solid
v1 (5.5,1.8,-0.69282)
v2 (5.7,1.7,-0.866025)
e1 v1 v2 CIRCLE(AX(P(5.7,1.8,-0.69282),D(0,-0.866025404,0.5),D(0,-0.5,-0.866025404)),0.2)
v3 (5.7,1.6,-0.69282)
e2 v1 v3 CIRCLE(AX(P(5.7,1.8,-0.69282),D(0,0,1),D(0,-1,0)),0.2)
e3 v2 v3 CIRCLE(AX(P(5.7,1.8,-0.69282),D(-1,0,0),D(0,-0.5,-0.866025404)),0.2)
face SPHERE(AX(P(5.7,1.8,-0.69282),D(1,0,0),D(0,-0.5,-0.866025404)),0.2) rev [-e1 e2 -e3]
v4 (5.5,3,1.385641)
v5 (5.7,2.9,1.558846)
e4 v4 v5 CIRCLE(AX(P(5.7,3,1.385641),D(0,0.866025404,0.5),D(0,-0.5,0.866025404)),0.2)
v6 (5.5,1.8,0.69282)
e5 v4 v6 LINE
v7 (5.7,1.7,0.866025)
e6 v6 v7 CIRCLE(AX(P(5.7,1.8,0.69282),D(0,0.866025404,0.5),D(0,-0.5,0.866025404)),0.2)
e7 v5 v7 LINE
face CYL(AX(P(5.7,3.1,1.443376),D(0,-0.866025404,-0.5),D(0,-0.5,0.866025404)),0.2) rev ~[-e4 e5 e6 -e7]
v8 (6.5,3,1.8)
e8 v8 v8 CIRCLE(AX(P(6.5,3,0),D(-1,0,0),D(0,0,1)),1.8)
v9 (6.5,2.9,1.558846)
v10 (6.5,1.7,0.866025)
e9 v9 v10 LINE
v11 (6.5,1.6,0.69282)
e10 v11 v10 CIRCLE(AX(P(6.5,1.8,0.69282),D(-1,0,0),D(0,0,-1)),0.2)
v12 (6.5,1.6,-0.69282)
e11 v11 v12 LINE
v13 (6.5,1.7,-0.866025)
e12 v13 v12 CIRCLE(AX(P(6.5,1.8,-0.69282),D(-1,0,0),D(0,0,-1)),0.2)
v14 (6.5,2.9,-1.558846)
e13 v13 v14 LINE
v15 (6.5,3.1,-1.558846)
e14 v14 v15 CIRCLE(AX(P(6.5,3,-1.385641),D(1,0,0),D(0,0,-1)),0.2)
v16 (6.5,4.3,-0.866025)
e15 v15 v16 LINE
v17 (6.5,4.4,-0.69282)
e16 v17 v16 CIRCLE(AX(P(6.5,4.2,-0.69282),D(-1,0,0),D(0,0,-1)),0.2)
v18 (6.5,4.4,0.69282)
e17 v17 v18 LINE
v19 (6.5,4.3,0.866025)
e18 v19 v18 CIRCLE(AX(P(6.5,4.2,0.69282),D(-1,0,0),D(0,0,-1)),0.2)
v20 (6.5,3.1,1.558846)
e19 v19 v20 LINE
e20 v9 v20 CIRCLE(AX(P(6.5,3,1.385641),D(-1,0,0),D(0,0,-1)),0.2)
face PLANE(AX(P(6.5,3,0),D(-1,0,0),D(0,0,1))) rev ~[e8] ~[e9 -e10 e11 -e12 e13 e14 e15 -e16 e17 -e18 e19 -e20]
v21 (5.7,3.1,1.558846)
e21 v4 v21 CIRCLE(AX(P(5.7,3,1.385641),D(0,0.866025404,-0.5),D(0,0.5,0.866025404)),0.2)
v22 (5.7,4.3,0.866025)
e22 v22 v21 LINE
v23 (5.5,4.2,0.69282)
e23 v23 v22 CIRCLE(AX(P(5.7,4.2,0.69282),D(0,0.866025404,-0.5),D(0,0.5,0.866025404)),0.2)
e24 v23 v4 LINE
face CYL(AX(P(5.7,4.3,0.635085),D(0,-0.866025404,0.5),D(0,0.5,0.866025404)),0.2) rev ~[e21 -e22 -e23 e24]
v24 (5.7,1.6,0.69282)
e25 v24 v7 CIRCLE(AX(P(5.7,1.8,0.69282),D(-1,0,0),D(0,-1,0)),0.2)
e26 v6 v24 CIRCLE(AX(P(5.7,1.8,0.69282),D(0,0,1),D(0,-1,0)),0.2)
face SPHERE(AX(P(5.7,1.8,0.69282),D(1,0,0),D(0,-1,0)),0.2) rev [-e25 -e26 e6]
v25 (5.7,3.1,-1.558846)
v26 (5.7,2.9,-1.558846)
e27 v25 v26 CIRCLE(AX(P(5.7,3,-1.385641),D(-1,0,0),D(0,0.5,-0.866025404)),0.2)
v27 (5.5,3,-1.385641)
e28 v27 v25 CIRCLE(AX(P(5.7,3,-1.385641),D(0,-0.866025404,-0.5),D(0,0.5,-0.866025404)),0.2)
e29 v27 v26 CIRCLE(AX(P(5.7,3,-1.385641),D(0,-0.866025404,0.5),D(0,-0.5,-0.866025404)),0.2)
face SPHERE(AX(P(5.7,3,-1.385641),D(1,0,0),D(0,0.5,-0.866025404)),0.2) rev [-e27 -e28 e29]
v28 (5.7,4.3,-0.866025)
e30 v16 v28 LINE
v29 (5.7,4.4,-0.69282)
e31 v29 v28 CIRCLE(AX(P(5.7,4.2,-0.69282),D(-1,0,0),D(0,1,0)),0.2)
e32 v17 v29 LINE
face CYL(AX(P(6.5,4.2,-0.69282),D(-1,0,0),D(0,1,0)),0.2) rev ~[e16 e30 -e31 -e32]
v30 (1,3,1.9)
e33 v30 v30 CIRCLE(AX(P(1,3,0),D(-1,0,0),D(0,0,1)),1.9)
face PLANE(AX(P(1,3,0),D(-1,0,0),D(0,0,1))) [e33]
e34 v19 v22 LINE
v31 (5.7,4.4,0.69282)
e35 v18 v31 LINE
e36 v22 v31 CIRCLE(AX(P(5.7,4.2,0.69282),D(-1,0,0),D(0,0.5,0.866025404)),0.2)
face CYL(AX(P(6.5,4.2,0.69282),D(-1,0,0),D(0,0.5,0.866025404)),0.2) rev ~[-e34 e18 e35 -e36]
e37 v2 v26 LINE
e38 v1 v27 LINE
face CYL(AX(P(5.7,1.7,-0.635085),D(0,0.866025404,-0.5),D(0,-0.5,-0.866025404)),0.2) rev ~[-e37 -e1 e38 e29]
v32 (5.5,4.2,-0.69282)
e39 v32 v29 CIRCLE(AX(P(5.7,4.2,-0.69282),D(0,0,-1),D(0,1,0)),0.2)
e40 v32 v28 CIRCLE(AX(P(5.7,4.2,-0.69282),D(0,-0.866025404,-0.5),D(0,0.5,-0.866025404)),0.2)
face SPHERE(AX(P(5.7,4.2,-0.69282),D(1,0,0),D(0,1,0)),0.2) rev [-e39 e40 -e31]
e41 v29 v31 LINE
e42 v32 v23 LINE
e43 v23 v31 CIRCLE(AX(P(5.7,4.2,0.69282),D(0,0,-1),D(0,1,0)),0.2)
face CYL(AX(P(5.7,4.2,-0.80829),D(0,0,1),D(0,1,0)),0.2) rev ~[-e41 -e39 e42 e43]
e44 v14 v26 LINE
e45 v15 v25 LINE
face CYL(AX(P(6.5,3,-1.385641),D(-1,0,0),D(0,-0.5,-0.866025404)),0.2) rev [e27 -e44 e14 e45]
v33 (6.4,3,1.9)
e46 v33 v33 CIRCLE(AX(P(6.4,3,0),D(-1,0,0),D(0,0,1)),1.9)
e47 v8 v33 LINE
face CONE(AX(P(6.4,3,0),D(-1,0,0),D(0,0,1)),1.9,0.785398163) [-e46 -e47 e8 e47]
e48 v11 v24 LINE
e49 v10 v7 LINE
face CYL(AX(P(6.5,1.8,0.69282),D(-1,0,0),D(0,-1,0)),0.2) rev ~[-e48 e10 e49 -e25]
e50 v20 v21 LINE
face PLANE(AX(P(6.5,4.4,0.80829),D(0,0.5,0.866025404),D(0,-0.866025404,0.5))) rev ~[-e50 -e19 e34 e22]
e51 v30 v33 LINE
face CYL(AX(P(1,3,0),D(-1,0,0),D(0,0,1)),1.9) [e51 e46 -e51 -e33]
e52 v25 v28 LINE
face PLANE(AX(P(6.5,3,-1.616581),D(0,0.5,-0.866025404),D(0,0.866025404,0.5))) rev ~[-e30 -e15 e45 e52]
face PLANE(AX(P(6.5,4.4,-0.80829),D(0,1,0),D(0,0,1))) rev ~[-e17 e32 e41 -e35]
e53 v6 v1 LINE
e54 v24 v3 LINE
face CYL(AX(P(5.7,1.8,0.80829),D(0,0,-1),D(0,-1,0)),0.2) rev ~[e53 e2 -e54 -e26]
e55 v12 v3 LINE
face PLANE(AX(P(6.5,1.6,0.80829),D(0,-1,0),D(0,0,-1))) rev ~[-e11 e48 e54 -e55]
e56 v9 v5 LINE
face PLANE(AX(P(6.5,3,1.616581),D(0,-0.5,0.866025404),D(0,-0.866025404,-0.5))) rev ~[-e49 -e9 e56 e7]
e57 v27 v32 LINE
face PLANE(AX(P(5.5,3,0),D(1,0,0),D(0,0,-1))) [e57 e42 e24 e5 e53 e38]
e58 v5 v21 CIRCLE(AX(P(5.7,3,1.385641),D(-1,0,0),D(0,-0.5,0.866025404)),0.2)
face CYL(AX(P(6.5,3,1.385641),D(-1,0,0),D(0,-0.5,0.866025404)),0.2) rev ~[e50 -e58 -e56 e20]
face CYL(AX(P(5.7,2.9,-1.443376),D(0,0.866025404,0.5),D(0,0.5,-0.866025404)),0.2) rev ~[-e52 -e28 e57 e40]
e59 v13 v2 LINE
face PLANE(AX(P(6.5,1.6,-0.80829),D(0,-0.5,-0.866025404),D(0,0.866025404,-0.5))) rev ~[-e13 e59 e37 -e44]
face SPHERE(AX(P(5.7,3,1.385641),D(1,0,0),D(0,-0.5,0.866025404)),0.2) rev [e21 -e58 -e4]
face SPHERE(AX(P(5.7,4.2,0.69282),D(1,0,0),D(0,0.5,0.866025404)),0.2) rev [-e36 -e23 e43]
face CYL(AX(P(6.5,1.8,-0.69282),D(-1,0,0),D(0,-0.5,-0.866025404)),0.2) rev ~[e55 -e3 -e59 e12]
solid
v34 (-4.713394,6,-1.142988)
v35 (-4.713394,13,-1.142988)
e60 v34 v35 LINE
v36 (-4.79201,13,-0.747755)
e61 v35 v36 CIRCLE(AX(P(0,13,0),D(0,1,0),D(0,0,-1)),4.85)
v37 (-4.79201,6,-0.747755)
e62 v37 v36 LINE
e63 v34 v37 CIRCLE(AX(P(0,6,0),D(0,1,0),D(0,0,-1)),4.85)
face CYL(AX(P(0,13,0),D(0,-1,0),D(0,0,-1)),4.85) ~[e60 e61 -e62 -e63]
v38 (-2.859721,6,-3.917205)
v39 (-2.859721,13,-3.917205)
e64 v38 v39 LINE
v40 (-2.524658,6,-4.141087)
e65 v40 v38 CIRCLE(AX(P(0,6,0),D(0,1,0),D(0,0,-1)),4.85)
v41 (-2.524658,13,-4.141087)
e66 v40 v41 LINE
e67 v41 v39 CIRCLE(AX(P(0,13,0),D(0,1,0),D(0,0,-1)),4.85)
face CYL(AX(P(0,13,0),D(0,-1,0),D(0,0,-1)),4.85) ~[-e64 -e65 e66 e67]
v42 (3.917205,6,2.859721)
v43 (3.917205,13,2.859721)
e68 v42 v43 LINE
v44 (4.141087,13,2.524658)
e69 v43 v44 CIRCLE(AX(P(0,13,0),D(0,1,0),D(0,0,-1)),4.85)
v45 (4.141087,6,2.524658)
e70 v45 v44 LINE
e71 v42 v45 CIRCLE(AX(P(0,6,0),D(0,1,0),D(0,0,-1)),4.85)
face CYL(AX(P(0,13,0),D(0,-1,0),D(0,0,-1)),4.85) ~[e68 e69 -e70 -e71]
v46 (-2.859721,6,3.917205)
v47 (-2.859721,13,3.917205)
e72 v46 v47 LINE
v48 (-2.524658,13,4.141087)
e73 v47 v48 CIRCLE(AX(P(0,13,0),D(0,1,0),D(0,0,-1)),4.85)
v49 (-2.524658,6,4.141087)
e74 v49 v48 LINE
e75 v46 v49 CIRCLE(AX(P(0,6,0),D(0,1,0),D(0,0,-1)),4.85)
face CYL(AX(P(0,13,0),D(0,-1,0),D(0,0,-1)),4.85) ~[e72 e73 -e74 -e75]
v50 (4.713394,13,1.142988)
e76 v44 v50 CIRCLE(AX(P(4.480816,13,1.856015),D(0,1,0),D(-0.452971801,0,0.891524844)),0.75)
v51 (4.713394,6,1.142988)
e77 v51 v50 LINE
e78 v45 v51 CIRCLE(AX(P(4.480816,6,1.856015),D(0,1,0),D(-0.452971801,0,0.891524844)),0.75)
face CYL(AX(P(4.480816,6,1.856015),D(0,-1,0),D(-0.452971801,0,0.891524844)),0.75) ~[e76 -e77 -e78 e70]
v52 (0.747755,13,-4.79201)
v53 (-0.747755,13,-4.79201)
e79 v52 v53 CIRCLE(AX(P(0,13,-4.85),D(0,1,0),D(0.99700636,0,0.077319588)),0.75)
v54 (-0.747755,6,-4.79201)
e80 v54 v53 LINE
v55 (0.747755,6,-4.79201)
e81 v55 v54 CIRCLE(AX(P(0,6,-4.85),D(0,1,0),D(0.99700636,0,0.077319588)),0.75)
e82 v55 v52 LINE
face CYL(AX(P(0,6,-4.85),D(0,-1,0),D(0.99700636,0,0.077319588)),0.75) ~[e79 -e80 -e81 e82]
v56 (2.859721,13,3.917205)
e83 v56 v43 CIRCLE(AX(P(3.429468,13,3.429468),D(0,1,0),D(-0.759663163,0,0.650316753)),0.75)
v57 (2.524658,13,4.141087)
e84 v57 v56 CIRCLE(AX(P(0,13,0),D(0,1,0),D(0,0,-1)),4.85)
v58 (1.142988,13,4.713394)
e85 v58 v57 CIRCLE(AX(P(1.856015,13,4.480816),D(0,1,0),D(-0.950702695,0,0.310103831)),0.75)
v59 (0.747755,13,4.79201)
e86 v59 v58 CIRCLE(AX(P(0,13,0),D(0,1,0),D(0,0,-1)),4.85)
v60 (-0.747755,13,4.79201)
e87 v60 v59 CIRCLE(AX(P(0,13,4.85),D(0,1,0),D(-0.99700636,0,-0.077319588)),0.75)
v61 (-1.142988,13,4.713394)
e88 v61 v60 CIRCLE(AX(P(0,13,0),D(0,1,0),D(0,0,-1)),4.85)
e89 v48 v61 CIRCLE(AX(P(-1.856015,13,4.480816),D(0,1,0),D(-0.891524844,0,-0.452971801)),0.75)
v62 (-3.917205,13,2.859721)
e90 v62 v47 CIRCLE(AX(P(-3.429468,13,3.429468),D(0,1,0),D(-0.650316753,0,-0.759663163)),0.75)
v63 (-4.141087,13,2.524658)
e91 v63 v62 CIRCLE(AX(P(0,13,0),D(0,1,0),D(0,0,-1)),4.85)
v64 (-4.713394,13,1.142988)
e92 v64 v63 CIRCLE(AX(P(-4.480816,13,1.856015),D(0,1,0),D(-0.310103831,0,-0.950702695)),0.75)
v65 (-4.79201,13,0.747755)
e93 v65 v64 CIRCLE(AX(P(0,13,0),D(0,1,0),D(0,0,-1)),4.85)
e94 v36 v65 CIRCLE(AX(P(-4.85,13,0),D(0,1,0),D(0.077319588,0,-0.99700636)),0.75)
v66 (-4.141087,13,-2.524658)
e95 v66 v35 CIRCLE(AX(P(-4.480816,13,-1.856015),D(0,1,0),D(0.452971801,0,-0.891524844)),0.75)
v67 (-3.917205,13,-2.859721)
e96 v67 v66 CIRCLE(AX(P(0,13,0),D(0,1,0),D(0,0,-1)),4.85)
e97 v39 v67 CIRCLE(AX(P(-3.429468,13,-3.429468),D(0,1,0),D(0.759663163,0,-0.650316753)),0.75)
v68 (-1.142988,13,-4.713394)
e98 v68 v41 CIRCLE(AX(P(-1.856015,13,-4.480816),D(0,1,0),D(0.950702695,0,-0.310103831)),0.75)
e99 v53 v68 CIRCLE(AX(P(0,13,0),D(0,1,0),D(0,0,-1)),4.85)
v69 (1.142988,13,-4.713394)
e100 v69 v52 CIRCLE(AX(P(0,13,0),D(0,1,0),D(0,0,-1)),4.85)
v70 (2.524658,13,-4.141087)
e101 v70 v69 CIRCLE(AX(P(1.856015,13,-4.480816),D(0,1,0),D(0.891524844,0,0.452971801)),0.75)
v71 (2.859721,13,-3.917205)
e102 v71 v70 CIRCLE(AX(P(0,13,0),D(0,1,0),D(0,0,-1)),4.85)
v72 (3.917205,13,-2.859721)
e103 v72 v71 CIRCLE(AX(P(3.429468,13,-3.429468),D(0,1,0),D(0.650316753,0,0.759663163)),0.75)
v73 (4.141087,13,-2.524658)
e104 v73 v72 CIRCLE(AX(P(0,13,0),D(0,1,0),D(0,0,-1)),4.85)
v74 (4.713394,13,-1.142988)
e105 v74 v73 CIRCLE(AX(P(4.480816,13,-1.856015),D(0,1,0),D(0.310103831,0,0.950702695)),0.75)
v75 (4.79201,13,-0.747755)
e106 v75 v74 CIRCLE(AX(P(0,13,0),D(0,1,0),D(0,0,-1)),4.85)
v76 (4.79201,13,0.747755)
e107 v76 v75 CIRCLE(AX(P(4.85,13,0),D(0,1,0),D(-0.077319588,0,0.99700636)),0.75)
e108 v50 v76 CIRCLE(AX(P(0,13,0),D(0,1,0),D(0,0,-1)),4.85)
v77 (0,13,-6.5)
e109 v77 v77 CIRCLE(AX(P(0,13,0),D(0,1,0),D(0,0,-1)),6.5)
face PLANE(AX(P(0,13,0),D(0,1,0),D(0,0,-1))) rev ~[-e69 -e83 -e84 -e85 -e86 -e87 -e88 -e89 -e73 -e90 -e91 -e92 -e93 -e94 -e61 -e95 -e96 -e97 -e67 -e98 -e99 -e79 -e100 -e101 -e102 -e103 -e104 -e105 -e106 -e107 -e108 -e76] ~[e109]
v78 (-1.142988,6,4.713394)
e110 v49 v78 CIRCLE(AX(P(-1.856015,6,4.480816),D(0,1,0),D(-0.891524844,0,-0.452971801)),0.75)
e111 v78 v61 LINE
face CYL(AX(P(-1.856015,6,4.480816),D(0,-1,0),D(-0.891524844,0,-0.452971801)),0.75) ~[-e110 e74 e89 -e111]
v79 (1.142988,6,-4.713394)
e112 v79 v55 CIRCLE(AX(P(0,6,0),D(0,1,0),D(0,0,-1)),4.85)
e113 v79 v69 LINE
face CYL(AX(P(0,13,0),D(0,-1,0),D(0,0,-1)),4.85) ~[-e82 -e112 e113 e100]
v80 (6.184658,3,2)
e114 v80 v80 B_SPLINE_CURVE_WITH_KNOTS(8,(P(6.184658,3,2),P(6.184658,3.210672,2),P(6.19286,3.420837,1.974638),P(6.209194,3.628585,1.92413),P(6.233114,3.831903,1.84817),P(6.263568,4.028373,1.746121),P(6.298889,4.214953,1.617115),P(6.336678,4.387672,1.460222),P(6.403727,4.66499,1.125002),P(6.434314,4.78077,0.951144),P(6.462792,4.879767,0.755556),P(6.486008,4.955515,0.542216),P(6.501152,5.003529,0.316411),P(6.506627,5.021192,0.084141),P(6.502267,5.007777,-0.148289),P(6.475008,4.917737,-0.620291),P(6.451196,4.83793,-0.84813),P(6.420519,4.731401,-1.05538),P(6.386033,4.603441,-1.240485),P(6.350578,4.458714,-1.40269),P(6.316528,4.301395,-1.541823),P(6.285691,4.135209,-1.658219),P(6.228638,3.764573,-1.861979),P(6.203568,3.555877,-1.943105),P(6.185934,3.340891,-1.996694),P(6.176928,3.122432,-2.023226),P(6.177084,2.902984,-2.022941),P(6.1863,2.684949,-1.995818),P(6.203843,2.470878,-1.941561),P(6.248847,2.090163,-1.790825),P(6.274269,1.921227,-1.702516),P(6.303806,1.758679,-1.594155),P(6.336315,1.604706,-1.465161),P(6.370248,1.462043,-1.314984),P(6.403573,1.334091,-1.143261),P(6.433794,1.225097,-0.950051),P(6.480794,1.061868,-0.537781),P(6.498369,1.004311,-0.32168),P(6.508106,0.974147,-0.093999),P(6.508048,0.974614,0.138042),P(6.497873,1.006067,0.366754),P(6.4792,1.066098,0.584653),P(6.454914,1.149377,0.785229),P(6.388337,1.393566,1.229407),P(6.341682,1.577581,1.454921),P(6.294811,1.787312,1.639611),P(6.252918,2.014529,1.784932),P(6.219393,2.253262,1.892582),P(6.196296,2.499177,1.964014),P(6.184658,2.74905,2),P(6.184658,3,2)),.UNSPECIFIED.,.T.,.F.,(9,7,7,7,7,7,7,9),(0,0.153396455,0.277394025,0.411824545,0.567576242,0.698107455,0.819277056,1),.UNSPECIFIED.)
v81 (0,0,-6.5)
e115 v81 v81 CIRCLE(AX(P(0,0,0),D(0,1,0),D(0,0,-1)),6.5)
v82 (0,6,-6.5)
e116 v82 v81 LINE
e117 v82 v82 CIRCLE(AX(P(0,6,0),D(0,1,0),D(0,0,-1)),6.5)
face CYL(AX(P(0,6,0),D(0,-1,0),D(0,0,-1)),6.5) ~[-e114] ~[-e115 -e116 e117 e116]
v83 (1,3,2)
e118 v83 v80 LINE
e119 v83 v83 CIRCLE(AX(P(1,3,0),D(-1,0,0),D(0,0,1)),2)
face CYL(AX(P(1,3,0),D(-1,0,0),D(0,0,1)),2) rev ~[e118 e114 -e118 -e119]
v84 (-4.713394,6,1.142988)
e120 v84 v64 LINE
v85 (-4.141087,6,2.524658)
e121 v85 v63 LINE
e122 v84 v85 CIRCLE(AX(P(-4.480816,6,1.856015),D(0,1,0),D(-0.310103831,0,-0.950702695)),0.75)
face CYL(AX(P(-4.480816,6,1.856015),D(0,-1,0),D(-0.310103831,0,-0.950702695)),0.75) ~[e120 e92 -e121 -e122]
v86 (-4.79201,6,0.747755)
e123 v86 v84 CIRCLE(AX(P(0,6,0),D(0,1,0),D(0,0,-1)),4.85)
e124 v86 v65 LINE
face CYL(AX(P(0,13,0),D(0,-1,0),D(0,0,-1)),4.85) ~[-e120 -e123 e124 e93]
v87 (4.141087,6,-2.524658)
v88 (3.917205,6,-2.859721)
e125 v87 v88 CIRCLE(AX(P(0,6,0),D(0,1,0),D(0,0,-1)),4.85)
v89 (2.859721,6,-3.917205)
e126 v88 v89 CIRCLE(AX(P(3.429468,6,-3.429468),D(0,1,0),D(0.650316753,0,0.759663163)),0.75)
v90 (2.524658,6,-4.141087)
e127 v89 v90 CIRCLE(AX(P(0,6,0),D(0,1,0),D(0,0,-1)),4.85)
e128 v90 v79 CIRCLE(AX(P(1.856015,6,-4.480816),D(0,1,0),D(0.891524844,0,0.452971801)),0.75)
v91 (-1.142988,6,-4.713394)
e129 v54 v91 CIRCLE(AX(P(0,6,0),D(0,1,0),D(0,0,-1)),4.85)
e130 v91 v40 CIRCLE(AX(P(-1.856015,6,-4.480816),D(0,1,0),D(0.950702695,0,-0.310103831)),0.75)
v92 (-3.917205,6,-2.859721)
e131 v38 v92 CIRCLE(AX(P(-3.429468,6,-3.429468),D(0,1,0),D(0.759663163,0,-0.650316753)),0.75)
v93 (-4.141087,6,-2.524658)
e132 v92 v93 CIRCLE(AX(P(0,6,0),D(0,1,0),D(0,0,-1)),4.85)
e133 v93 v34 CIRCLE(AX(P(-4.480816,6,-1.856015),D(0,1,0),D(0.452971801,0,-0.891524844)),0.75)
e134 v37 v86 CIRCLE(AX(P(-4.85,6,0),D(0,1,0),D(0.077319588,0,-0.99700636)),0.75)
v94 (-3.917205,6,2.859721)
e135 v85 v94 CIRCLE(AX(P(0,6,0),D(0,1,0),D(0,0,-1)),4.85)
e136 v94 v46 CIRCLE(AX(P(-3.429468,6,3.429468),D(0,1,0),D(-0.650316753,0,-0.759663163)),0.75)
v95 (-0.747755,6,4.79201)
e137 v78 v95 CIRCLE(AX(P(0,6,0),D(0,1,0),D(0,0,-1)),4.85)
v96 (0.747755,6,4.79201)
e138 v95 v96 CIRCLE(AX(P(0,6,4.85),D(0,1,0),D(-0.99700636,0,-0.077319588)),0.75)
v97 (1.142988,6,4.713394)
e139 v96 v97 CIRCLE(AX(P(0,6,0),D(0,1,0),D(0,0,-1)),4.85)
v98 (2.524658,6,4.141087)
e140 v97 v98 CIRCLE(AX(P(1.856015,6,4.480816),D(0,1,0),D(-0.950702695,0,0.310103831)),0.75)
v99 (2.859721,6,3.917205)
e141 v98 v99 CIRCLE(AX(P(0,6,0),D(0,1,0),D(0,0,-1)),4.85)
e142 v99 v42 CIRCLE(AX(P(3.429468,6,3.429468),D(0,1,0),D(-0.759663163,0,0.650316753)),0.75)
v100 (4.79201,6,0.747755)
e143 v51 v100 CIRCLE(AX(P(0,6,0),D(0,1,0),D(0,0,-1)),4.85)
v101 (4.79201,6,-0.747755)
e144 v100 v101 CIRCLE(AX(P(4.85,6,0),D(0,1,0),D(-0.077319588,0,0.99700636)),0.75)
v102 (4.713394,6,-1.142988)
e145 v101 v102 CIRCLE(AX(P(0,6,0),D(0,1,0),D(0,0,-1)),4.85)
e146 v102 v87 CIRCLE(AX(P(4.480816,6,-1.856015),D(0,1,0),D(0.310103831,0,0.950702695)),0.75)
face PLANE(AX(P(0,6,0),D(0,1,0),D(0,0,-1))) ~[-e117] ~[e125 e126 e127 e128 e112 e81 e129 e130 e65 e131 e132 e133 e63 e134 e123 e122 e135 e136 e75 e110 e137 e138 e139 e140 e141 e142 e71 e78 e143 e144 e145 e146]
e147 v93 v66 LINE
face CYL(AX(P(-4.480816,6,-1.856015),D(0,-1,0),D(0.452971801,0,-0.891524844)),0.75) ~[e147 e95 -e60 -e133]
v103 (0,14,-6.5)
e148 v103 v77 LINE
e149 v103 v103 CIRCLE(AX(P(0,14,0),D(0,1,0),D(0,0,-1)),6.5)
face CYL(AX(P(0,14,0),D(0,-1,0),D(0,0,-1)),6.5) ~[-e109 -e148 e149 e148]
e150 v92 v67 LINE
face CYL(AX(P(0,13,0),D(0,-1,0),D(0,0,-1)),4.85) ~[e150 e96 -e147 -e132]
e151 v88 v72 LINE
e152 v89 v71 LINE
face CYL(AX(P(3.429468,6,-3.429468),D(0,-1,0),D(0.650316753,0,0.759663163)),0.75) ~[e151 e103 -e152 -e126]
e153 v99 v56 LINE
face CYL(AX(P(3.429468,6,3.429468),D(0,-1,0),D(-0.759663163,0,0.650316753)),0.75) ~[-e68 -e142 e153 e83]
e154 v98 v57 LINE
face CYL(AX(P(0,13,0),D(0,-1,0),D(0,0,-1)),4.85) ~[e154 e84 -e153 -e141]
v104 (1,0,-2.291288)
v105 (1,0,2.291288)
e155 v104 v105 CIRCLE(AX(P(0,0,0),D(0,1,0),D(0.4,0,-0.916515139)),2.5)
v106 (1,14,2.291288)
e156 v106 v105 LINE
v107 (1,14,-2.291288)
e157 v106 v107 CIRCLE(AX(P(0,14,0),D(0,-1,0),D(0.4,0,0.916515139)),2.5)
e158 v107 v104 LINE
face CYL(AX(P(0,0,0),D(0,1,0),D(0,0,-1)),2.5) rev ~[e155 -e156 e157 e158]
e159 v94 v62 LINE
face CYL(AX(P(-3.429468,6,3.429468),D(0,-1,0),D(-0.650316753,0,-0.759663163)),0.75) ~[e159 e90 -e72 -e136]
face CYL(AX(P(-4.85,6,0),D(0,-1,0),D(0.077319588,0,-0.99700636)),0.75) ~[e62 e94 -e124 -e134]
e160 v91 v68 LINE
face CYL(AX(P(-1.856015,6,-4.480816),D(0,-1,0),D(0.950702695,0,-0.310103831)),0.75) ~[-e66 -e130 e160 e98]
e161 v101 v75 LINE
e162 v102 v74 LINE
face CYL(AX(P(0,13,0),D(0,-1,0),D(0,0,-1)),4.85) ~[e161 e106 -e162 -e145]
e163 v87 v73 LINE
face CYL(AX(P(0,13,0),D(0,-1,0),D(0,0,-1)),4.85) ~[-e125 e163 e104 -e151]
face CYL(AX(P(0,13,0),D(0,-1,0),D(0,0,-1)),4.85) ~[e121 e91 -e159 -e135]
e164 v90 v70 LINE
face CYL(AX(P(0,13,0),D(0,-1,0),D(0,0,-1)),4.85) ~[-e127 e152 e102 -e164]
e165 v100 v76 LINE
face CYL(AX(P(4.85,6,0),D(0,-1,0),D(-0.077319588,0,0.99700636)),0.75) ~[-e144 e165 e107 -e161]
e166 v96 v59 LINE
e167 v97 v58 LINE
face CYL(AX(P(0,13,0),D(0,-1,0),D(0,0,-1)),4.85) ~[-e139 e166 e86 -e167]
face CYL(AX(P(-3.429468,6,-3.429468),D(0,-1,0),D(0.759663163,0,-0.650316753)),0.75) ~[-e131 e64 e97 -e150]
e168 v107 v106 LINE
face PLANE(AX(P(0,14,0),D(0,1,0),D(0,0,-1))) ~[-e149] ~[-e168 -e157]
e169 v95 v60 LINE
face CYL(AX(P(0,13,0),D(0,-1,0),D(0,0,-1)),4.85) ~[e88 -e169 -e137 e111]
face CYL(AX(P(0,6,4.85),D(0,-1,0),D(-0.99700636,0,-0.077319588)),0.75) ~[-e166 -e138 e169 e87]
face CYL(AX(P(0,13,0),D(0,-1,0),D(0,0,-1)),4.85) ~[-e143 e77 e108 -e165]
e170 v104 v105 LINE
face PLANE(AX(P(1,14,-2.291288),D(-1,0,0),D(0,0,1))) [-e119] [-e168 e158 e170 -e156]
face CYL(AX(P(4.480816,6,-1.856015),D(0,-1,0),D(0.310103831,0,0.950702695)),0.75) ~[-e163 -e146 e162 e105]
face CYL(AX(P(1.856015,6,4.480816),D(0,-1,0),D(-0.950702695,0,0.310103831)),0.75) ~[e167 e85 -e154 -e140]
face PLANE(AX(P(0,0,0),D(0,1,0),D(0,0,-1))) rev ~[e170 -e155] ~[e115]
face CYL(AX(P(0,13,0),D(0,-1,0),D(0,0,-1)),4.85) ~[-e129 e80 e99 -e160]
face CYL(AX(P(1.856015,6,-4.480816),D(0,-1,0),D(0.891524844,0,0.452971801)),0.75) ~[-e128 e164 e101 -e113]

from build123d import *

# Parameters (mm, degrees)
BOSS_EXTRUDE1_DEPTH = 7
BOSS_EXTRUDE2_START = 14
BOSS_EXTRUDE2_DEPTH = 14
SKETCH4_R           = 2
CUT_EXTRUDE1_DEPTH  = 18.161002302
SKETCH5_R           = 1.9
BOSS_EXTRUDE3_DEPTH = 5.5
CUT_EXTRUDE2_DEPTH  = 1
FILLET1_R           = 0.2
CHAMFER1_SIZE       = 0.1


with BuildPart() as part:
    # Sketch1 → Revolve1 (revolve)
    with BuildSketch(Plane.XY, mode=Mode.PRIVATE) as revolve1_sk:
        Polygon((2.5, 0), (2.5, 14), (6.5, 14), (6.5, 13), (4.85, 13), (4.85, 6), (6.5, 6), (6.5, 0), align=None)
    revolve(revolve1_sk.sketch.rotate(Axis((0, 0, 0), (0, 1, 0)), 90), axis=Axis((0, 0, 0), (0, 1, 0)))

    # Sketch2 → Boss-Extrude1 (add)
    with BuildSketch(Plane(origin=(0, 6, 0), x_dir=(1, 0, 0), z_dir=(0, 1, 0))):
        with BuildLine():
            ThreePointArc((4.792010309, 0.74775477), (4.85, 0), (4.792010309, -0.74775477))
            ThreePointArc((4.792010309, -0.74775477), (5.6, 0), (4.792010309, 0.74775477))
        make_face()
        with BuildLine():
            ThreePointArc((4.141086882, 2.52465828), (4.480815733, 1.856014647), (4.713393606, 1.142987626))
            ThreePointArc((4.713393606, 1.142987626), (5.173725382, 2.143027221), (4.141086882, 2.52465828))
        make_face()
        with BuildLine():
            ThreePointArc((4.141086882, -2.52465828), (5.173725382, -2.143027221), (4.713393606, -1.142987626))
            ThreePointArc((4.713393606, -1.142987626), (4.480815733, -1.856014647), (4.141086882, -2.52465828))
        make_face()
        with BuildLine():
            ThreePointArc((2.859720517, 3.917205454), (3.429467889, 3.429467889), (3.917205454, 2.859720517))
            ThreePointArc((3.917205454, 2.859720517), (3.959797975, 3.959797975), (2.859720517, 3.917205454))
        make_face()
        with BuildLine():
            ThreePointArc((2.859720517, -3.917205454), (3.959797975, -3.959797975), (3.917205454, -2.859720517))
            ThreePointArc((3.917205454, -2.859720517), (3.429467889, -3.429467889), (2.859720517, -3.917205454))
        make_face()
        with BuildLine():
            ThreePointArc((1.142987626, 4.713393606), (1.856014647, 4.480815733), (2.52465828, 4.141086882))
            ThreePointArc((2.52465828, 4.141086882), (2.143027221, 5.173725382), (1.142987626, 4.713393606))
        make_face()
        with BuildLine():
            ThreePointArc((1.142987626, -4.713393606), (2.143027221, -5.173725382), (2.52465828, -4.141086882))
            ThreePointArc((2.52465828, -4.141086882), (1.856014647, -4.480815733), (1.142987626, -4.713393606))
        make_face()
        with BuildLine():
            ThreePointArc((-0.74775477, 4.792010309), (0, 4.85), (0.74775477, 4.792010309))
            ThreePointArc((0.74775477, 4.792010309), (0, 5.6), (-0.74775477, 4.792010309))
        make_face()
        with BuildLine():
            ThreePointArc((-0.74775477, -4.792010309), (0, -5.6), (0.74775477, -4.792010309))
            ThreePointArc((0.74775477, -4.792010309), (0, -4.85), (-0.74775477, -4.792010309))
        make_face()
        with BuildLine():
            ThreePointArc((-2.52465828, 4.141086882), (-1.856014647, 4.480815733), (-1.142987626, 4.713393606))
            ThreePointArc((-1.142987626, 4.713393606), (-2.143027221, 5.173725382), (-2.52465828, 4.141086882))
        make_face()
        with BuildLine():
            ThreePointArc((-2.52465828, -4.141086882), (-2.143027221, -5.173725382), (-1.142987626, -4.713393606))
            ThreePointArc((-1.142987626, -4.713393606), (-1.856014647, -4.480815733), (-2.52465828, -4.141086882))
        make_face()
        with BuildLine():
            ThreePointArc((-3.917205454, 2.859720517), (-3.429467889, 3.429467889), (-2.859720517, 3.917205454))
            ThreePointArc((-2.859720517, 3.917205454), (-3.959797975, 3.959797975), (-3.917205454, 2.859720517))
        make_face()
        with BuildLine():
            ThreePointArc((-3.917205454, -2.859720517), (-3.959797975, -3.959797975), (-2.859720517, -3.917205454))
            ThreePointArc((-2.859720517, -3.917205454), (-3.429467889, -3.429467889), (-3.917205454, -2.859720517))
        make_face()
        with BuildLine():
            ThreePointArc((-4.713393606, 1.142987626), (-4.480815733, 1.856014647), (-4.141086882, 2.52465828))
            ThreePointArc((-4.141086882, 2.52465828), (-5.173725382, 2.143027221), (-4.713393606, 1.142987626))
        make_face()
        with BuildLine():
            ThreePointArc((-4.713393606, -1.142987626), (-5.173725382, -2.143027221), (-4.141086882, -2.52465828))
            ThreePointArc((-4.141086882, -2.52465828), (-4.480815733, -1.856014647), (-4.713393606, -1.142987626))
        make_face()
        with BuildLine():
            ThreePointArc((-4.792010309, -0.74775477), (-4.85, 0), (-4.792010309, 0.74775477))
            ThreePointArc((-4.792010309, 0.74775477), (-5.6, 0), (-4.792010309, -0.74775477))
        make_face()
    extrude(amount=BOSS_EXTRUDE1_DEPTH)

    # Sketch3 → Boss-Extrude2 (add)
    with BuildSketch(Plane(origin=(0, 0, 0), x_dir=(1, 0, 0), z_dir=(0, 1, 0)).offset(BOSS_EXTRUDE2_START)):
        with BuildLine():
            Line((1, 2.291287847), (1, -2.291287847))
            ThreePointArc((1, -2.291287847), (2.5, 0), (1, 2.291287847))
        make_face()
    extrude(amount=-BOSS_EXTRUDE2_DEPTH)

    # Sketch4 → Cut-Extrude1 (cut, through all)
    with BuildSketch(Plane.ZY.offset(-1)):
        with Locations((0, 3)):
            Circle(SKETCH4_R)
    extrude(amount=-CUT_EXTRUDE1_DEPTH, mode=Mode.SUBTRACT)


with BuildPart() as body_2:
    # Sketch5 → Boss-Extrude3 (new body)
    with BuildSketch(Plane.ZY.offset(-1)):
        with Locations((0, 3)):
            Circle(SKETCH5_R)
    extrude(amount=-BOSS_EXTRUDE3_DEPTH)

    # Sketch6 → Cut-Extrude2 (cut)
    with BuildSketch(Plane(origin=(6.5, 0, 0), x_dir=(0, 0, -1), z_dir=(1, 0, 0))):
        Polygon((1.616580754, 3), (0.808290377, 4.4), (-0.808290377, 4.4), (-1.616580754, 3), (-0.808290377, 1.6), (0.808290377, 1.6), align=None)
    extrude(amount=-CUT_EXTRUDE2_DEPTH, mode=Mode.SUBTRACT)

    # Fillet1
    fillet1_edges = [body_2.edges().sort_by_distance(p)[0] for p in [
        (6, 3, 1.616580754),
        (5.5, 4.4, 0),
        (6, 4.4, 0.808290377),
        (5.5, 3.7, -1.212435565),
        (6, 4.4, -0.808290377),
        (5.5, 2.3, -1.212435565),
        (6, 3, -1.616580754),
        (5.5, 1.6, 0),
        (6, 1.6, -0.808290377),
        (5.5, 2.3, 1.212435565),
        (6, 1.6, 0.808290377),
        (5.5, 3.7, 1.212435565),
    ]]
    fillet(fillet1_edges, radius=FILLET1_R)

    # Chamfer1
    chamfer1_edges = [body_2.edges().sort_by_distance(p)[0] for p in [
        (6.5, 3, -1.9),
    ]]
    chamfer(chamfer1_edges, length=CHAMFER1_SIZE)


solid = Compound([part.part, body_2.part])
